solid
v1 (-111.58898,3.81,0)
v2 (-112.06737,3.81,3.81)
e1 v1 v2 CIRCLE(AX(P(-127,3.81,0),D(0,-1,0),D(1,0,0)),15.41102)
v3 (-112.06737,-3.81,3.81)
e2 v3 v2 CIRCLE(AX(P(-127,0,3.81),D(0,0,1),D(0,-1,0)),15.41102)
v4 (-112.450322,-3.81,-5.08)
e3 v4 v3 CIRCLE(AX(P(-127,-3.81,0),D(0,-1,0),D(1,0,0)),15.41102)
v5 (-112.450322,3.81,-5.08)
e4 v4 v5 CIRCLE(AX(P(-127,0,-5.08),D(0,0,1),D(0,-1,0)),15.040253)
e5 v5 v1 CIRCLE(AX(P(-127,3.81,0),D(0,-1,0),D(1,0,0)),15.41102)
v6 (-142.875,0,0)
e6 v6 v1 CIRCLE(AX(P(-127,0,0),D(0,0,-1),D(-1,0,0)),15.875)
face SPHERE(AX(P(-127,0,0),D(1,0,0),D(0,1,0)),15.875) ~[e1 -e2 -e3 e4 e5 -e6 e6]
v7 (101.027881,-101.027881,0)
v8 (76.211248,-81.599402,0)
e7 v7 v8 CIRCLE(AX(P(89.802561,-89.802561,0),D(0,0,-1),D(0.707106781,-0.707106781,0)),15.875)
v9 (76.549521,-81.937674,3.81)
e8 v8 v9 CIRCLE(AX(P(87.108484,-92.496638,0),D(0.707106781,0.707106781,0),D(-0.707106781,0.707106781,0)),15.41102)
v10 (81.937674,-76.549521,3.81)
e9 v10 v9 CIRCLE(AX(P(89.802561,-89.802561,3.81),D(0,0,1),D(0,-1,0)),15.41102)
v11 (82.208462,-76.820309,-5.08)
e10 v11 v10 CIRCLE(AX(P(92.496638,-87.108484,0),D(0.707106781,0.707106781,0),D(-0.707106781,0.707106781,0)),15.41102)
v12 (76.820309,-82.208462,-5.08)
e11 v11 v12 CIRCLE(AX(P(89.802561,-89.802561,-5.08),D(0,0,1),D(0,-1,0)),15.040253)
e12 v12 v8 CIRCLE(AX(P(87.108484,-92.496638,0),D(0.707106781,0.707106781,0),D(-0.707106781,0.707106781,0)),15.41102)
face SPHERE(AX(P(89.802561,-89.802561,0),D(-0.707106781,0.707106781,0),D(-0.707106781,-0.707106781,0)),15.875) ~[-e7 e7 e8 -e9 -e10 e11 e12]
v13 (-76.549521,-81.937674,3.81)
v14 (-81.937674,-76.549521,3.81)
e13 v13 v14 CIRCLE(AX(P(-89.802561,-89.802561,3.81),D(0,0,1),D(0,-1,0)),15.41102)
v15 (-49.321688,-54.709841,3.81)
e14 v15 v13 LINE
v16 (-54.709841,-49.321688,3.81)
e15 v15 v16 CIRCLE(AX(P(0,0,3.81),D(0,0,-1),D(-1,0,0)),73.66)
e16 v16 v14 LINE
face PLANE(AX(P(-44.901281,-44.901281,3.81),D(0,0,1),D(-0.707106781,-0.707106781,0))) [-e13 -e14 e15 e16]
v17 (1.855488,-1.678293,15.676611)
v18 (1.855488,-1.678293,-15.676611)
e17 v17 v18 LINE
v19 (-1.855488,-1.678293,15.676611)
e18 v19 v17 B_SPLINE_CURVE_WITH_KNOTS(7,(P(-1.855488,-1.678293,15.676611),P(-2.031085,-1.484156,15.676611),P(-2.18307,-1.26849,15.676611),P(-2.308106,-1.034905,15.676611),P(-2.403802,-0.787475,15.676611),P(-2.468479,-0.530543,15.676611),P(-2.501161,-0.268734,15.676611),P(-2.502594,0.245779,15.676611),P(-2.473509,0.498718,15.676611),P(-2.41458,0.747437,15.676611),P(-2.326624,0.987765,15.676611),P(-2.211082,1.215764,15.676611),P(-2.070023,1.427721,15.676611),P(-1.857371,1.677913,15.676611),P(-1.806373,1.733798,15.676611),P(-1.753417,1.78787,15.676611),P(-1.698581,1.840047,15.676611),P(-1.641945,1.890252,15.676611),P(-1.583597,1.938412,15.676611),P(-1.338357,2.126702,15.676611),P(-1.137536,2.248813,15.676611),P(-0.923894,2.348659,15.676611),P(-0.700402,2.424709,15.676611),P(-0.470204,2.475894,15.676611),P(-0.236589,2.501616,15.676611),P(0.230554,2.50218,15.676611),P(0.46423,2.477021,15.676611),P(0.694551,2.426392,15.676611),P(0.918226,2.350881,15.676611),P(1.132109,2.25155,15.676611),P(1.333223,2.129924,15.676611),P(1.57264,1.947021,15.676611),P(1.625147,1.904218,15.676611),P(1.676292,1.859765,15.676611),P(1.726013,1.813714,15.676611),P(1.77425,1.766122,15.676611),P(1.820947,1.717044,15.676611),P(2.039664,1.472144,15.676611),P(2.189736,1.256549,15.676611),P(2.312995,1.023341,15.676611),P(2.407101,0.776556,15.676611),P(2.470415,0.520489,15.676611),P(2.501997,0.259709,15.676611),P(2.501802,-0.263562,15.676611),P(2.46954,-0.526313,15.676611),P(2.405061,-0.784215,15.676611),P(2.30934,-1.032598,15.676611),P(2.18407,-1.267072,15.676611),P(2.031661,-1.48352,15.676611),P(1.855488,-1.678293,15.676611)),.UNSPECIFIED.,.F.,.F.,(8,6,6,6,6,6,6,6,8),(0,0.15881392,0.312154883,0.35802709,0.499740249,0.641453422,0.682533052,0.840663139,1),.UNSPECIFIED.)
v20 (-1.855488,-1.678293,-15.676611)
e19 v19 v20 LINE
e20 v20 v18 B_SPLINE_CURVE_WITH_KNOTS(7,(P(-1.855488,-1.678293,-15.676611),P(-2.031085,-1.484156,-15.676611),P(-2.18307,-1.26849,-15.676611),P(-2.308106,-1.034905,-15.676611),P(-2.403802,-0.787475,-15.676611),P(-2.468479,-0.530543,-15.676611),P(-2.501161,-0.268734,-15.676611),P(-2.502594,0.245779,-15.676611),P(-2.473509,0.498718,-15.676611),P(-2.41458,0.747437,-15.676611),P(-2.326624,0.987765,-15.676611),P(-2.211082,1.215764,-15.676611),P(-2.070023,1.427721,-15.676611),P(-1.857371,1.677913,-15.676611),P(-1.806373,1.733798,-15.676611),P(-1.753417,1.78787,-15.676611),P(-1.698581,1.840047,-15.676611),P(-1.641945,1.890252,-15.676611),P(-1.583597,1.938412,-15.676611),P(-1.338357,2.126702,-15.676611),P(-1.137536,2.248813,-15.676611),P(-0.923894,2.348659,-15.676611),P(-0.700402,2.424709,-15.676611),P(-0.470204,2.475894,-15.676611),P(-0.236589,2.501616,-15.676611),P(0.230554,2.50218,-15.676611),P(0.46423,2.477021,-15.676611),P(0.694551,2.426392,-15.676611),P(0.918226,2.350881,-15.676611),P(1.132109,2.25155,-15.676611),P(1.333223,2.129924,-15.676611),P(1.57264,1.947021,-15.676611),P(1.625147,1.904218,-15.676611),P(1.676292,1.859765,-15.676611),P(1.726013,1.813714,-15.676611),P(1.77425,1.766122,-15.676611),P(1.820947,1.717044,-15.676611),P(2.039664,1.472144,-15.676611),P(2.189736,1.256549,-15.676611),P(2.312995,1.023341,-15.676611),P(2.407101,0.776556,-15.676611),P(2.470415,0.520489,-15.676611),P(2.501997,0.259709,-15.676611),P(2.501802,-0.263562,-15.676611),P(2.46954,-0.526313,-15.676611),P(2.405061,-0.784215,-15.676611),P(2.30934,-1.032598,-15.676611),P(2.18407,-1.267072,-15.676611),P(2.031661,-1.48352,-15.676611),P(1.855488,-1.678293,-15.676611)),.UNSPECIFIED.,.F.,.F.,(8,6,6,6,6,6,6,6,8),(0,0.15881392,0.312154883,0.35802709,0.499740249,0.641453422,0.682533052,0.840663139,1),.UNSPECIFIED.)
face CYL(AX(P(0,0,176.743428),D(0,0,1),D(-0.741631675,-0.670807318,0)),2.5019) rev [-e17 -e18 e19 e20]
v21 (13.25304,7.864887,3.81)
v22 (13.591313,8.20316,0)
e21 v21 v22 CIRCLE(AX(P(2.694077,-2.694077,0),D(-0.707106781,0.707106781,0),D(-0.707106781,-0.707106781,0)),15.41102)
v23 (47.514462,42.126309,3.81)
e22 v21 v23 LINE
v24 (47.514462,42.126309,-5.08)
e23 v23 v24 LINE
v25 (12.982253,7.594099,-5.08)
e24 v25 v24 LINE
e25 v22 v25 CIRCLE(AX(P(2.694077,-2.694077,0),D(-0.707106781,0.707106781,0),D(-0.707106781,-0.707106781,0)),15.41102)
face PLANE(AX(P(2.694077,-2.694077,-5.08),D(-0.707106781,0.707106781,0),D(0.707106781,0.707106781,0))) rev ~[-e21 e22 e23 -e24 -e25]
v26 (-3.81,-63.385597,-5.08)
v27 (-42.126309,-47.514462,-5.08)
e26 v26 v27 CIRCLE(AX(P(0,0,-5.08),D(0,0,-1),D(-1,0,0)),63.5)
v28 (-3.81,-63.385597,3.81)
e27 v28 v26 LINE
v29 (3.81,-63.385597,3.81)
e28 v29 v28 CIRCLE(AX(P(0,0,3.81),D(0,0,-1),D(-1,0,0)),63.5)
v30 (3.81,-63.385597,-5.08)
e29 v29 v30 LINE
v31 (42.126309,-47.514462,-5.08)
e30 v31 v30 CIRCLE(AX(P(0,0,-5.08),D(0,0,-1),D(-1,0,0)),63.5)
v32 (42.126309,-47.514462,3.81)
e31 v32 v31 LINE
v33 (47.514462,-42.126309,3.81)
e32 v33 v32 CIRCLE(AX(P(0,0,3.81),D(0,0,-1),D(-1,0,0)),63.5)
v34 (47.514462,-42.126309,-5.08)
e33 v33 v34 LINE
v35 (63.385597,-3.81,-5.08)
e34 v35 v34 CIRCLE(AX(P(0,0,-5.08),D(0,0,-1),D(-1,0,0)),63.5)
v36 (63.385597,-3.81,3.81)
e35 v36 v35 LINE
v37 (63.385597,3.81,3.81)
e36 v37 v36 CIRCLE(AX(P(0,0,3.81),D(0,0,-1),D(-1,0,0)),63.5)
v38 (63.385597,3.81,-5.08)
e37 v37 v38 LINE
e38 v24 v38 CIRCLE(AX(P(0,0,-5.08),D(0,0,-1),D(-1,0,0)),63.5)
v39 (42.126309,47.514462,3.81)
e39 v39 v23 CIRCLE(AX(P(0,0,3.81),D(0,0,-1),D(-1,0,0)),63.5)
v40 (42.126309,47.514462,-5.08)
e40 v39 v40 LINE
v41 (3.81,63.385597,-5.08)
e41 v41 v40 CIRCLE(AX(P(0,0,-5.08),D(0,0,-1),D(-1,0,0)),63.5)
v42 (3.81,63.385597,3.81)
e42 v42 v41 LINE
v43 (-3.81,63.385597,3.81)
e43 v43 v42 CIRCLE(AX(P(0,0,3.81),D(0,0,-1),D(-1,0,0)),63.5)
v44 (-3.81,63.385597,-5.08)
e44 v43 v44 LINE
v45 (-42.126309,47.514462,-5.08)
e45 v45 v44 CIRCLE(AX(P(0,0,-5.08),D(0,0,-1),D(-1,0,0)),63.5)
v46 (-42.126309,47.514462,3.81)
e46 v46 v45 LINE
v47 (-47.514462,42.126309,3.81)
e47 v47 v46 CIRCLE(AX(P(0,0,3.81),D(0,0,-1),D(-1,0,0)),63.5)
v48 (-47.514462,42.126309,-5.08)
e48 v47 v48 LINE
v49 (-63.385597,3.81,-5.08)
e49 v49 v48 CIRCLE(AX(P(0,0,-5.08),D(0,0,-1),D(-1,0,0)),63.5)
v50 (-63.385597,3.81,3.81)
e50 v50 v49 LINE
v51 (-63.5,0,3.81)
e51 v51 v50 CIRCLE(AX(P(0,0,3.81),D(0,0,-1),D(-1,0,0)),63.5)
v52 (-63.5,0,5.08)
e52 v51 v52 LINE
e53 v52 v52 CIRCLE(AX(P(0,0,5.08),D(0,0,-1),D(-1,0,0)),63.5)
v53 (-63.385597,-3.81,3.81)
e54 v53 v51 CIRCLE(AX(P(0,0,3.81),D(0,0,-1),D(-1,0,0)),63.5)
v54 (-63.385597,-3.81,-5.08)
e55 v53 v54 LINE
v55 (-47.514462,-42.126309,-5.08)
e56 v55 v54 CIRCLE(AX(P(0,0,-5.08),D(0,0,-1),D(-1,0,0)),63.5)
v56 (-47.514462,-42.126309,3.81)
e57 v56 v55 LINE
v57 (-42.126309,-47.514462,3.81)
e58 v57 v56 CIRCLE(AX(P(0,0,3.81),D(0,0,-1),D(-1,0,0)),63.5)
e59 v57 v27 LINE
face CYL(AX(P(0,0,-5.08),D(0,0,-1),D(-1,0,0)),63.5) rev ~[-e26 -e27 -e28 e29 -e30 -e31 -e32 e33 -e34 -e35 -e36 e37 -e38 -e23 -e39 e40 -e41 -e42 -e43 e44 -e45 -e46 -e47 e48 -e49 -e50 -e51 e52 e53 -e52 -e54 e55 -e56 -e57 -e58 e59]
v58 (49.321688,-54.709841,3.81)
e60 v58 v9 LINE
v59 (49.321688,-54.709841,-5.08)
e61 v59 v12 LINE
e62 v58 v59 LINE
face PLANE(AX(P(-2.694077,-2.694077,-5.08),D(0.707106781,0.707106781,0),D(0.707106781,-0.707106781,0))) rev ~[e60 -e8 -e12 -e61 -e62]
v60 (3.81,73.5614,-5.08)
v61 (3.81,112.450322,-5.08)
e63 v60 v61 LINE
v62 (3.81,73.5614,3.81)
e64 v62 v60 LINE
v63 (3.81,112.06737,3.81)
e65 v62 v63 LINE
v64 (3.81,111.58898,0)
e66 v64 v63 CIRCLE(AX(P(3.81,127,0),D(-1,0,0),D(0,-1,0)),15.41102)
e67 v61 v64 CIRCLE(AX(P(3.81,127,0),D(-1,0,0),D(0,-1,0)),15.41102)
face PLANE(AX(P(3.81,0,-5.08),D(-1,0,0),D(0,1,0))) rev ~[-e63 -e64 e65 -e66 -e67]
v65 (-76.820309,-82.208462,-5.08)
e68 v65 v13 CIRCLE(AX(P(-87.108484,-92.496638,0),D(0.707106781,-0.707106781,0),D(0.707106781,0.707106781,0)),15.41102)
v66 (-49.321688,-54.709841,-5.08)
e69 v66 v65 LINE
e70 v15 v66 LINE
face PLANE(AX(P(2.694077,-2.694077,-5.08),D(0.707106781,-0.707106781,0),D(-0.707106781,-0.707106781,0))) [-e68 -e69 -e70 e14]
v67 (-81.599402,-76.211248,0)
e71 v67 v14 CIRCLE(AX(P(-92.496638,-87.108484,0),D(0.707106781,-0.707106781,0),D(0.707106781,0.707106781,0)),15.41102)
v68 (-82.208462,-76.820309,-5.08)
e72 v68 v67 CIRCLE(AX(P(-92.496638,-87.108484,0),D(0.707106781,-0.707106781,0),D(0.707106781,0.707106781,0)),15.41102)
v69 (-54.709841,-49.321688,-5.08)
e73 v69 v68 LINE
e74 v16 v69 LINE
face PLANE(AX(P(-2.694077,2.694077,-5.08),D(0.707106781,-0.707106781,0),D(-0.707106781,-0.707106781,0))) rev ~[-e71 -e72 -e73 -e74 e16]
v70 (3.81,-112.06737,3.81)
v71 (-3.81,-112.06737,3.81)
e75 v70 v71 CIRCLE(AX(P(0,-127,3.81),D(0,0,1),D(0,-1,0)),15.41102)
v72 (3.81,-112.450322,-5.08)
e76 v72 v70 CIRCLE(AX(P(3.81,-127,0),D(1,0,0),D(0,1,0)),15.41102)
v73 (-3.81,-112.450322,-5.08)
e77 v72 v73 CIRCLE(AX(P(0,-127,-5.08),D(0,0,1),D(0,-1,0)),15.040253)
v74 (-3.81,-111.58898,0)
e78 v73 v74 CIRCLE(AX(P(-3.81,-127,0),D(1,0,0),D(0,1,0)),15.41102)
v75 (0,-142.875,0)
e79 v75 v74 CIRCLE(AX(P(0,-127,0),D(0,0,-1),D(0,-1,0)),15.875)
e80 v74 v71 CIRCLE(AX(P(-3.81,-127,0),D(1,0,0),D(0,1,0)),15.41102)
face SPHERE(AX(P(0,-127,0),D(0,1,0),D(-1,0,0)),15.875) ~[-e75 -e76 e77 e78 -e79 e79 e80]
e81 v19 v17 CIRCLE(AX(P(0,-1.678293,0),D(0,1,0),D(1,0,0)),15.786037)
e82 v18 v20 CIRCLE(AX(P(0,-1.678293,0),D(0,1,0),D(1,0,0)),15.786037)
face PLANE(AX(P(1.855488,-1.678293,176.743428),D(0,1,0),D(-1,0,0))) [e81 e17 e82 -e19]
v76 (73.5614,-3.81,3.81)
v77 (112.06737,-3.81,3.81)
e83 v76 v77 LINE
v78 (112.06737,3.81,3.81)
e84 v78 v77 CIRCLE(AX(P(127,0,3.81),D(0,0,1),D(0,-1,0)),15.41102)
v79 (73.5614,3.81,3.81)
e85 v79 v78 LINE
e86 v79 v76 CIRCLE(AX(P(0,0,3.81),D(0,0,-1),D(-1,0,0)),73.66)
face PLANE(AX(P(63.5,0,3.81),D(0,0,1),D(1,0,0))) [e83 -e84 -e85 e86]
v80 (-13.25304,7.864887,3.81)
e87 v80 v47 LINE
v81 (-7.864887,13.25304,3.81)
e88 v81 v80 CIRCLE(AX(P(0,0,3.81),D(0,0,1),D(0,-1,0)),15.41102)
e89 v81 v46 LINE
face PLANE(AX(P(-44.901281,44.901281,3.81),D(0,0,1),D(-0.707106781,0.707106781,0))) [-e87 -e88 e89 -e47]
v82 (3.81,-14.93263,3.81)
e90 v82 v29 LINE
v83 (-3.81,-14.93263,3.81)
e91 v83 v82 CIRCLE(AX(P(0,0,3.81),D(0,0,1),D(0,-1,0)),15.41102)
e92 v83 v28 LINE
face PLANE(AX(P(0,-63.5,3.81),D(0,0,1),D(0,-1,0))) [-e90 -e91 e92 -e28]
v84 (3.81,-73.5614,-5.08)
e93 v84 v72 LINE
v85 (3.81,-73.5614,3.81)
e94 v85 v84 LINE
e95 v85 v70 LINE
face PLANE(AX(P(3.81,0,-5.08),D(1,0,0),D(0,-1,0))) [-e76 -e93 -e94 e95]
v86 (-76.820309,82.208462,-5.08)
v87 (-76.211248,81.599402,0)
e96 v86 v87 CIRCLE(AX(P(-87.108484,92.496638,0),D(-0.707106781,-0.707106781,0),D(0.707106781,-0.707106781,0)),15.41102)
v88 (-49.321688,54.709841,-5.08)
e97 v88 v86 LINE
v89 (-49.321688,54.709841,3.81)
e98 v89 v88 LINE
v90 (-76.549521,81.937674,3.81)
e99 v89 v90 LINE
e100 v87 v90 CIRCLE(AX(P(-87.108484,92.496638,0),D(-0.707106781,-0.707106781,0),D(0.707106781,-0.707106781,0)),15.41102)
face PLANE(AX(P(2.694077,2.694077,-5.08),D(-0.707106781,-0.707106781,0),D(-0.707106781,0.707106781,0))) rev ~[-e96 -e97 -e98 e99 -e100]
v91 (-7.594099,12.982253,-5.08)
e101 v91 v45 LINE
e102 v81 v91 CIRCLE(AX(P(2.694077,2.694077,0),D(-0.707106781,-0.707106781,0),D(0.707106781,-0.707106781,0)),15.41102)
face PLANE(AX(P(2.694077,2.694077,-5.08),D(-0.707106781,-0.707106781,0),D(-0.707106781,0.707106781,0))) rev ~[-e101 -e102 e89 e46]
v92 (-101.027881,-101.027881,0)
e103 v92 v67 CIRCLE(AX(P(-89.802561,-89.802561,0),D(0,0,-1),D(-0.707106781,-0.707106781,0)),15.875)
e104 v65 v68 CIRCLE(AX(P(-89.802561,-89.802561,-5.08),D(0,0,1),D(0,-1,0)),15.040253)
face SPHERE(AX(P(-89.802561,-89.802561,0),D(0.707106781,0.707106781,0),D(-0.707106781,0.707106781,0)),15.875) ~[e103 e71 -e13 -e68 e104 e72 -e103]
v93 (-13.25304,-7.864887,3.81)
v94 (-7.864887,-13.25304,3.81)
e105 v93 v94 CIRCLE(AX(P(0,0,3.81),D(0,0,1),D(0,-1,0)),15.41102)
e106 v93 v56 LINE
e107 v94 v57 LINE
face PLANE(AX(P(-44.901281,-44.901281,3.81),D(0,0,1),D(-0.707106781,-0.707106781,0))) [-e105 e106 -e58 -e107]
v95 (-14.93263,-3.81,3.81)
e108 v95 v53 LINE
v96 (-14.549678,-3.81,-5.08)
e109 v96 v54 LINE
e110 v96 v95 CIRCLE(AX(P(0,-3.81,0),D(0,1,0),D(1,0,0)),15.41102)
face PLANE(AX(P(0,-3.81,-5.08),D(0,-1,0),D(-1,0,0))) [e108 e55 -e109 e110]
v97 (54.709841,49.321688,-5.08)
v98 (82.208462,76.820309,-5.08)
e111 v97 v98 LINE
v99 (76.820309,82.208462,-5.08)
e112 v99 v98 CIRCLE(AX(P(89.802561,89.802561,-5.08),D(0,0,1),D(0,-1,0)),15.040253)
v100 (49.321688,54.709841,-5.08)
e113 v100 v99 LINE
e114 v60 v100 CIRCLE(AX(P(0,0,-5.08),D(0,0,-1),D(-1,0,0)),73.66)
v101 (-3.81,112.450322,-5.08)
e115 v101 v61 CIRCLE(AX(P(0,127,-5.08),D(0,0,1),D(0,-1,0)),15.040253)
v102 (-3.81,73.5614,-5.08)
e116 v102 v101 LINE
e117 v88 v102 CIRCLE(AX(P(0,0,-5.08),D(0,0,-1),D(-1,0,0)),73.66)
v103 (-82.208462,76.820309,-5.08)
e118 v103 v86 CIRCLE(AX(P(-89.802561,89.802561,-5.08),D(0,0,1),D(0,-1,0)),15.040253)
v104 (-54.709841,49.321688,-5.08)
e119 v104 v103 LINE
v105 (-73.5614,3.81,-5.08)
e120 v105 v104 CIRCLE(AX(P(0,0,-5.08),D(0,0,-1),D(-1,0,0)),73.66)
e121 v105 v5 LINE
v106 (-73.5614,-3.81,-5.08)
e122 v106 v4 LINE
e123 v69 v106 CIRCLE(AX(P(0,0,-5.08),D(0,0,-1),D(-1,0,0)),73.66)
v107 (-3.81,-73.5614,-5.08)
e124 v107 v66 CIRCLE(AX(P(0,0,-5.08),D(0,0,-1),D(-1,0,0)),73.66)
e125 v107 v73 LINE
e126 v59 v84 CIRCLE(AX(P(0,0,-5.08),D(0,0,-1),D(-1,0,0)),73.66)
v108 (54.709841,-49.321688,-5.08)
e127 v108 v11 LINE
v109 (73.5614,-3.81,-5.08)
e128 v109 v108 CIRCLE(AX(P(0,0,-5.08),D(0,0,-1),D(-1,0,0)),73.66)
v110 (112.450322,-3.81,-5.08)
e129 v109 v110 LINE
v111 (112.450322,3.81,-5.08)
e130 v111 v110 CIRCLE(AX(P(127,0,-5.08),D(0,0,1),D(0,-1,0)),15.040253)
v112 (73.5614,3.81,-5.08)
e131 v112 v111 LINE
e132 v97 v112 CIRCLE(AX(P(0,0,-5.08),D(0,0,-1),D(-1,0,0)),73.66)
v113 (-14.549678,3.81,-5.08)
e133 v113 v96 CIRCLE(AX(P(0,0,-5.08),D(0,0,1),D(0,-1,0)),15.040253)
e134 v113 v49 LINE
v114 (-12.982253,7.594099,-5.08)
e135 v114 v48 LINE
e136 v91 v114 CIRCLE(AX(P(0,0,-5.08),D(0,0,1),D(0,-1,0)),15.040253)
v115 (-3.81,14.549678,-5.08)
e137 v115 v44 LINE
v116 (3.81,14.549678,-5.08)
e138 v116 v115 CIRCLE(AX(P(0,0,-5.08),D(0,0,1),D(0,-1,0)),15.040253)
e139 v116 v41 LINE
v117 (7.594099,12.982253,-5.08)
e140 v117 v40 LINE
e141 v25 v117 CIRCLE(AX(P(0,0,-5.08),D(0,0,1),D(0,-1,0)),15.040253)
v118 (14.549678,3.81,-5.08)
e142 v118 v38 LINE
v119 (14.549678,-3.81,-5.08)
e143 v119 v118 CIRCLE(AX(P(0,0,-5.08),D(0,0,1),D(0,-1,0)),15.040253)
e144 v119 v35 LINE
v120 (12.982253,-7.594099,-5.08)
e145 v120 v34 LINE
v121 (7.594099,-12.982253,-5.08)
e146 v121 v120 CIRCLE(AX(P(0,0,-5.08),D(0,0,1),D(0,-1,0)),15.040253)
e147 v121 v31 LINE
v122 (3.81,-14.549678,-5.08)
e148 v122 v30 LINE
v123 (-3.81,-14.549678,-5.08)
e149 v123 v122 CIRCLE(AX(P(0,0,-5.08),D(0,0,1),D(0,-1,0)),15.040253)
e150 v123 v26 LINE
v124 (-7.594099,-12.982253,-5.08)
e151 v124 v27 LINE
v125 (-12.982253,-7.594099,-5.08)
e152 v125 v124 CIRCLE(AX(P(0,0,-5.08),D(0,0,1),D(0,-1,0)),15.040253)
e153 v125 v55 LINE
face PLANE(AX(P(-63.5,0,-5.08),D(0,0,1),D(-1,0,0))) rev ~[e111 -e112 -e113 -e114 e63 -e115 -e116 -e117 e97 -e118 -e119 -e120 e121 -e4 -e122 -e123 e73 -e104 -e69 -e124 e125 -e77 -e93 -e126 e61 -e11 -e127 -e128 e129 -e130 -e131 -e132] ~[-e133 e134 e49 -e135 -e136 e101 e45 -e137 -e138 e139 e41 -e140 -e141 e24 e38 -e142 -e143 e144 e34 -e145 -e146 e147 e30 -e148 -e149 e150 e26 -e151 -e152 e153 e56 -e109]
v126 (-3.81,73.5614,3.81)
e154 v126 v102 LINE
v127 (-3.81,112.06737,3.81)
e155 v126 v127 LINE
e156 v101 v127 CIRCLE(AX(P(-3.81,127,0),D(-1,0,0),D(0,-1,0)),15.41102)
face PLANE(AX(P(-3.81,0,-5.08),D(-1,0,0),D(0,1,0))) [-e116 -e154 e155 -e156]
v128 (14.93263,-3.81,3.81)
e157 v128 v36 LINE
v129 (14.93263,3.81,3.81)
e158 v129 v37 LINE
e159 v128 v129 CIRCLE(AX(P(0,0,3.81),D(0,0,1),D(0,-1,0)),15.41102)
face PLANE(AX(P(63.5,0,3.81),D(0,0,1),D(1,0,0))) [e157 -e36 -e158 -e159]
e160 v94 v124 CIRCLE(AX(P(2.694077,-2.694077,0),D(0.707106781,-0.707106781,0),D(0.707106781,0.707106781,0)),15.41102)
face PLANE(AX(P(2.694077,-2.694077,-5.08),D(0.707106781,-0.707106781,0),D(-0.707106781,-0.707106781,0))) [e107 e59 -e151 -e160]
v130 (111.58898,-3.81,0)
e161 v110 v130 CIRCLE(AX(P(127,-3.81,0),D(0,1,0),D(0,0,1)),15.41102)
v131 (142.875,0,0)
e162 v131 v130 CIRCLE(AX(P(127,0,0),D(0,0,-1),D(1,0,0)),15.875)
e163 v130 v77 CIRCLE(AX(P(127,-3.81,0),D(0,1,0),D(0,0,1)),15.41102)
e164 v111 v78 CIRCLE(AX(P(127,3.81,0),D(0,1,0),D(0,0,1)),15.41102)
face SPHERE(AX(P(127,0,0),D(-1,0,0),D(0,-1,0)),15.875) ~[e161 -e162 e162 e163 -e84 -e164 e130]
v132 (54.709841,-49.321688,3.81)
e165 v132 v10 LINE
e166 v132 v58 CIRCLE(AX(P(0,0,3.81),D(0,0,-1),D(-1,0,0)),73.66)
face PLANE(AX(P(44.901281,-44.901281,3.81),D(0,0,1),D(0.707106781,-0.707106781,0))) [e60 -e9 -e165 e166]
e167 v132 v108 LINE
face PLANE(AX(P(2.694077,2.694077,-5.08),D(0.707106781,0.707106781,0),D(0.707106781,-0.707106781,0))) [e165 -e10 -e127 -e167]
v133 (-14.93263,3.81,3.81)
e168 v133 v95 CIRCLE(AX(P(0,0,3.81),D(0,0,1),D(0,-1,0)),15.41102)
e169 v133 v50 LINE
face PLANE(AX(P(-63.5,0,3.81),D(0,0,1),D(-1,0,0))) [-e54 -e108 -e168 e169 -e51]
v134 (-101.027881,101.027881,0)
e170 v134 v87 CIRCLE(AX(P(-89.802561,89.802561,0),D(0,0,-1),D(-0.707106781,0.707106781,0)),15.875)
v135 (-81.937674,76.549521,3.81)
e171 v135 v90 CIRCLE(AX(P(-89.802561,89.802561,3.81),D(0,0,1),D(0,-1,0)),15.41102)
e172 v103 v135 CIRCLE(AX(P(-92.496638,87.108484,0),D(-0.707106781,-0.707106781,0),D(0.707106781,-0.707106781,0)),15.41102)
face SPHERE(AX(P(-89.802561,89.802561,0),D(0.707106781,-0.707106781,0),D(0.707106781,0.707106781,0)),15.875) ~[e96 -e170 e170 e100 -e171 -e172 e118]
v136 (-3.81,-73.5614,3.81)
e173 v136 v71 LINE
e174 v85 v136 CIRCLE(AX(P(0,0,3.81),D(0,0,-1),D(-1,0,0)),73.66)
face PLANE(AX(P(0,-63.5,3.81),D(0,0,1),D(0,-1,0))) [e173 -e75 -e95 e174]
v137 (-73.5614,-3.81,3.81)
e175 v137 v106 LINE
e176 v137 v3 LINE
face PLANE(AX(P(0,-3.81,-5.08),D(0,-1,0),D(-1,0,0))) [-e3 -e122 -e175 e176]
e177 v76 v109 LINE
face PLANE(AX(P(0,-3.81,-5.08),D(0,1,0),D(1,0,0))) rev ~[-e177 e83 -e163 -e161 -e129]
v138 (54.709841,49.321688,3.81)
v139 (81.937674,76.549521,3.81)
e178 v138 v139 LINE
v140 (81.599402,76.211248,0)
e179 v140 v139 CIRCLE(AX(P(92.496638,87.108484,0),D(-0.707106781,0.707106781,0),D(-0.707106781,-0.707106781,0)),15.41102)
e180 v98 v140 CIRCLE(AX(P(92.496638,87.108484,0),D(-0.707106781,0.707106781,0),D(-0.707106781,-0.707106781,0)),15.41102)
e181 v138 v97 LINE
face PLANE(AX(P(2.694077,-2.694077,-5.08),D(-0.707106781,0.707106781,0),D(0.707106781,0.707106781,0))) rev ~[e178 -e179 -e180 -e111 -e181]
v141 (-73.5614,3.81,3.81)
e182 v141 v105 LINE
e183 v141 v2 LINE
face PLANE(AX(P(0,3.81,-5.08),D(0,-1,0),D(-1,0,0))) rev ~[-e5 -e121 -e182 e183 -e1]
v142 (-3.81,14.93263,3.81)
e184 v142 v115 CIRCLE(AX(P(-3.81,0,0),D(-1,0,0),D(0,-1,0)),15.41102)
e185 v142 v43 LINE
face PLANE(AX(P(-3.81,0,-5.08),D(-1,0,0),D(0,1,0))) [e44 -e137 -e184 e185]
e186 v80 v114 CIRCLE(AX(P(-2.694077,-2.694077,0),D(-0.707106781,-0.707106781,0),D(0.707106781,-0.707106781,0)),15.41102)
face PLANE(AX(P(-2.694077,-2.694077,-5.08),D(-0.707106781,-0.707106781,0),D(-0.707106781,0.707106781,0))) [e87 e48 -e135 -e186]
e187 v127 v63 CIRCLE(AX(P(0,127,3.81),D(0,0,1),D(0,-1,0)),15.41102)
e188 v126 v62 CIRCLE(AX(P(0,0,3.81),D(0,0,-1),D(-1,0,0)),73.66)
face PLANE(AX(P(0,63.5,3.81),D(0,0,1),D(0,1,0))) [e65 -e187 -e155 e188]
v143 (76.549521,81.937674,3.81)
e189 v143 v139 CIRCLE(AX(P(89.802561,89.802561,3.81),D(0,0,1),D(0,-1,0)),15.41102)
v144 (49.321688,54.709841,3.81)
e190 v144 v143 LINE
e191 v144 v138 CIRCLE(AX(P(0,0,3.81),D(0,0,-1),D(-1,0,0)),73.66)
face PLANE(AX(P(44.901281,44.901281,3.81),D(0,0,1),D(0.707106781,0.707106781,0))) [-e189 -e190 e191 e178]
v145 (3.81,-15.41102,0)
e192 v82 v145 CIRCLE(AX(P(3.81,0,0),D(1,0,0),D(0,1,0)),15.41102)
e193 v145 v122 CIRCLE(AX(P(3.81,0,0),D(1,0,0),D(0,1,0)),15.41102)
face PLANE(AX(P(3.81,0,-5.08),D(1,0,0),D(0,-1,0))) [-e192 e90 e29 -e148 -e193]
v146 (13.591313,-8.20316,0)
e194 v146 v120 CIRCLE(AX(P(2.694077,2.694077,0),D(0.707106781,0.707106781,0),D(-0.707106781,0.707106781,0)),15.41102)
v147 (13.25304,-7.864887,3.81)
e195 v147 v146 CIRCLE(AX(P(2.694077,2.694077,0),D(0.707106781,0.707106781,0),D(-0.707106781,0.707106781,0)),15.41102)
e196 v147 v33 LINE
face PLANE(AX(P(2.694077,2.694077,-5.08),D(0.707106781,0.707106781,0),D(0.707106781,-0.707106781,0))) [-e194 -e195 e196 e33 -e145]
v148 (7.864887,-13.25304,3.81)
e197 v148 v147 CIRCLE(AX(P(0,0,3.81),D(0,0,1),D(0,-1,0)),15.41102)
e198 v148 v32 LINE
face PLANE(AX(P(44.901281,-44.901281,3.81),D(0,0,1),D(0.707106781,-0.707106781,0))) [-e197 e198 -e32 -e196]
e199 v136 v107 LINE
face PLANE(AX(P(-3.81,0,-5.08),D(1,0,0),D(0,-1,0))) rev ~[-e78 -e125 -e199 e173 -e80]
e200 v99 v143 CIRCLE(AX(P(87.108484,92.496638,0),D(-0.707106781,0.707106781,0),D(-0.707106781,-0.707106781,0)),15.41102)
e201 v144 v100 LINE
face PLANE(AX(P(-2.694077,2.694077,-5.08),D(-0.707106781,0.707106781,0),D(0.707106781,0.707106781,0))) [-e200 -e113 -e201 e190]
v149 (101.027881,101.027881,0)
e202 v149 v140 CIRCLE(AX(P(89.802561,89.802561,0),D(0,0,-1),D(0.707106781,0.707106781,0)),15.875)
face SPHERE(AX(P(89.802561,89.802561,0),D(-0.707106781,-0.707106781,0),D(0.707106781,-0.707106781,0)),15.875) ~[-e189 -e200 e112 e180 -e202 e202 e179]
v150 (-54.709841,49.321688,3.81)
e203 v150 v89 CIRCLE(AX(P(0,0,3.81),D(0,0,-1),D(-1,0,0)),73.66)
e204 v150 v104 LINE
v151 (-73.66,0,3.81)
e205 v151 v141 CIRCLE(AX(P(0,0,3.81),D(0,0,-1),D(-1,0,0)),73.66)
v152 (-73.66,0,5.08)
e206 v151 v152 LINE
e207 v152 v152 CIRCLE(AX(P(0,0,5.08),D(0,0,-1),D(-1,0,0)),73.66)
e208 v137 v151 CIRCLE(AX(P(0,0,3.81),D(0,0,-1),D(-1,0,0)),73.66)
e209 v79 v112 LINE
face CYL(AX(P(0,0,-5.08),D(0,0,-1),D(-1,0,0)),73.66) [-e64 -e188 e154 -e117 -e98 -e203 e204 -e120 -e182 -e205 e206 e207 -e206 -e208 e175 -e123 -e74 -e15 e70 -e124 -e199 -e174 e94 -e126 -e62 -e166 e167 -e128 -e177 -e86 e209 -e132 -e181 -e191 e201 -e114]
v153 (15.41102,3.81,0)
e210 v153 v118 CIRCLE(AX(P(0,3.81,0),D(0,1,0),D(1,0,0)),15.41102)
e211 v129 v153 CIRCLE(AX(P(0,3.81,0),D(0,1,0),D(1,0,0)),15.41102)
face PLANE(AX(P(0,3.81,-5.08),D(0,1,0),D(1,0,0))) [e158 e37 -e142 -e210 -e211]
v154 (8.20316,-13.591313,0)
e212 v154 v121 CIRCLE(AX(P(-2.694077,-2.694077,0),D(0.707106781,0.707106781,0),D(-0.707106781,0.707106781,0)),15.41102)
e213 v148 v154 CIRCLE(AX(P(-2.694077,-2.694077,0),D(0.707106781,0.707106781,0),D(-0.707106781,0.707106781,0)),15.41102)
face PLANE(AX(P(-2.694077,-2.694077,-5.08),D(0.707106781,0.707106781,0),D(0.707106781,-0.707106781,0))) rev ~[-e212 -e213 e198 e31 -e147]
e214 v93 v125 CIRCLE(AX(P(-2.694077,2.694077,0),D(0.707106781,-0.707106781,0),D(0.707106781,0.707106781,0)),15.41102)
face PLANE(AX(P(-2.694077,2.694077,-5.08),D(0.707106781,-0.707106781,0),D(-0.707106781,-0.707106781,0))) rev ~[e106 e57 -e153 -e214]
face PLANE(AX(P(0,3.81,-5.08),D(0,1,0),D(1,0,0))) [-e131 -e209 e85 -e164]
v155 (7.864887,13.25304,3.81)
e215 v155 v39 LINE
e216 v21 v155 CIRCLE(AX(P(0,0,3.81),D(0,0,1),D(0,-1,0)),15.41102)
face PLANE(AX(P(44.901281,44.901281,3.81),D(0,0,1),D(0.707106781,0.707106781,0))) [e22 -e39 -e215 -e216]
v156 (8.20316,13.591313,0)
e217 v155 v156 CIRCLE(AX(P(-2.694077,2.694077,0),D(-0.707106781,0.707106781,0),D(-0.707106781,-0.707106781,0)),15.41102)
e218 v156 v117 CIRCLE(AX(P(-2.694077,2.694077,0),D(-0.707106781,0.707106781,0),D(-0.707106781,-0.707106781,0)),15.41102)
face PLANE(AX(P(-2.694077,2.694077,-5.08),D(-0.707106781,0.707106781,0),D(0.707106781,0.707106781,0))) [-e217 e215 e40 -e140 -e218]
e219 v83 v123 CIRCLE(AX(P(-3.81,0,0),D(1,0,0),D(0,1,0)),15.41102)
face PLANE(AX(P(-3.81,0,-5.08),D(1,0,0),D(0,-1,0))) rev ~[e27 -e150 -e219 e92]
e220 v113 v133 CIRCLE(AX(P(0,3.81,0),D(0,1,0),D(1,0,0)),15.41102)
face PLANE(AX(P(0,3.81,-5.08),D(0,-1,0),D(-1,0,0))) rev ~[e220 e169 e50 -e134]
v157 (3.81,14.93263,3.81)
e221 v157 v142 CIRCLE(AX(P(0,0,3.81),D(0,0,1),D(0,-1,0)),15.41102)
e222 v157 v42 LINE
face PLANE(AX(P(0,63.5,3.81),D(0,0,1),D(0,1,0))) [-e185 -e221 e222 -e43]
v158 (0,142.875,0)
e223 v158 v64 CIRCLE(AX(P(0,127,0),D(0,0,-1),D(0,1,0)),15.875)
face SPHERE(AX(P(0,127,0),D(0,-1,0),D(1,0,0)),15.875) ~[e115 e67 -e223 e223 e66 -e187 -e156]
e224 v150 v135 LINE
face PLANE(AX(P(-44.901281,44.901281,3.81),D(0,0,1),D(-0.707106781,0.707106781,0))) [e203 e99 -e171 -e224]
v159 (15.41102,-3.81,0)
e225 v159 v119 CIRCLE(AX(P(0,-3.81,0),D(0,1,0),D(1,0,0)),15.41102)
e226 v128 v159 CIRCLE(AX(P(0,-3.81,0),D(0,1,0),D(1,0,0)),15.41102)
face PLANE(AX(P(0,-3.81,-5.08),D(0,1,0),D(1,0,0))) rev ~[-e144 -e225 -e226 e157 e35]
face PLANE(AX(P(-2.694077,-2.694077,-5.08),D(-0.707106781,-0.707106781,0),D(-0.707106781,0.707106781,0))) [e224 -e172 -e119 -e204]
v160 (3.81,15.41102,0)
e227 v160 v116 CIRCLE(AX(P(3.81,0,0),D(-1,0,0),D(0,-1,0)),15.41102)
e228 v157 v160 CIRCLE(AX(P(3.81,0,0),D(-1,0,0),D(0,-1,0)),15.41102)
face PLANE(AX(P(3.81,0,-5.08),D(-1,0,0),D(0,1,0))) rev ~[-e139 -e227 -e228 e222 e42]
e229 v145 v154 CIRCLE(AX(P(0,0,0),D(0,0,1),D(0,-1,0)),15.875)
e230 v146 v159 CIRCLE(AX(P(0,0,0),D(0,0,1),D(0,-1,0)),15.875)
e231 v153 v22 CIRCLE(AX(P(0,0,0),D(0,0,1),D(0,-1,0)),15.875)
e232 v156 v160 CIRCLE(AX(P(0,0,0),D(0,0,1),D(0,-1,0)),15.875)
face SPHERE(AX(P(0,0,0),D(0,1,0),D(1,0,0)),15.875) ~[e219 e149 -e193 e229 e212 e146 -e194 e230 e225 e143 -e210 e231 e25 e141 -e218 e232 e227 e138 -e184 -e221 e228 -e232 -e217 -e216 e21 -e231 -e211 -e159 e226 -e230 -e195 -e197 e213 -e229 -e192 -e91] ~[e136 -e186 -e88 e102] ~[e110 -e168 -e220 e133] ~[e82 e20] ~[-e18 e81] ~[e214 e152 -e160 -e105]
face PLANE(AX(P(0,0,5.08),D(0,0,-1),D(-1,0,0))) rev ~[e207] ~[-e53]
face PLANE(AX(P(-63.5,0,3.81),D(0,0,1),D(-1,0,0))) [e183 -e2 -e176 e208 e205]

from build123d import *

# Parameters (mm, degrees)
BOSS_EXTRUDE1_START     = -5.08
SKETCH2_W               = 127
SKETCH2_H               = 7.62
BOSS_EXTRUDE1_DEPTH     = 8.89
CIRPATTERN1_COUNT       = 8
SKETCH5_R               = 73.66
SKETCH5_R_2             = 63.5
BOSS_EXTRUDE2_DEPTH     = 10.16
CUT_EXTRUDE1_DEPTH      = 181.823427755
CUT_EXTRUDE1_DEPTH_BACK = 181.823427755
CIRPATTERN2_COUNT       = 8


with BuildPart() as part:
    # Sketch1 → Revolve1 (revolve)
    with BuildSketch(Plane.XY):
        with BuildLine():
            Line((0, 15.875), (0, -15.875))
            ThreePointArc((0, -15.875), (15.875, 0), (0, 15.875))
        make_face()
    revolve(axis=Axis((0, 15.875, 0), (0, -1, 0)))

    # Sketch2 → Boss-Extrude1 (add)
    with BuildSketch(Plane.XY.offset(BOSS_EXTRUDE1_START)):
        with Locations((63.5, 0)):
            Rectangle(SKETCH2_W, SKETCH2_H)
    boss_extrude1 = extrude(amount=BOSS_EXTRUDE1_DEPTH)

    # CirPattern1: Boss-Extrude1 ×8 about axis
    cirpattern1_axis = Axis((0, 0, 0), (0, 0, 1))
    for i in range(1, CIRPATTERN1_COUNT):
        add(boss_extrude1.rotate(cirpattern1_axis, i * 360 / CIRPATTERN1_COUNT))

    # Sketch5 → Boss-Extrude2 (add)
    with BuildSketch(Plane(origin=(0, 0, -5.08), x_dir=(-1, 0, 0), z_dir=(0, 0, -1))):
        Circle(SKETCH5_R)
        Circle(SKETCH5_R_2, mode=Mode.SUBTRACT)
    extrude(amount=-BOSS_EXTRUDE2_DEPTH)

    # Sketch6 → Cut-Extrude1 (cut, two sides: drawn at the far end of the back side and taken through both)
    with BuildSketch(Plane(origin=(0, 0, -5.08), x_dir=(-1, 0, 0), z_dir=(0, 0, -1)).offset(-CUT_EXTRUDE1_DEPTH_BACK)):
        with BuildLine():
            Line((-1.855488288, -1.67829283), (1.855488288, -1.67829283))
            ThreePointArc((1.855488288, -1.67829283), (0, 2.5019), (-1.855488288, -1.67829283))
        make_face()
    extrude(amount=CUT_EXTRUDE1_DEPTH + CUT_EXTRUDE1_DEPTH_BACK, mode=Mode.SUBTRACT)

    # Sketch7 → Revolve2 (revolve)
    with BuildSketch(Plane.XY):
        with BuildLine():
            Line((0, 111.125), (0, 142.875))
            ThreePointArc((0, 142.875), (15.875, 127), (0, 111.125))
        make_face()
    revolve2 = revolve(axis=Axis((0, 111.125, 0), (0, 1, 0)))

    # CirPattern2: Revolve2 ×8 about axis
    cirpattern2_axis = Axis((0, 0, 0), (0, 0, 1))
    for i in range(1, CIRPATTERN2_COUNT):
        add(revolve2.rotate(cirpattern2_axis, i * 360 / CIRPATTERN2_COUNT))


solid = part.part
